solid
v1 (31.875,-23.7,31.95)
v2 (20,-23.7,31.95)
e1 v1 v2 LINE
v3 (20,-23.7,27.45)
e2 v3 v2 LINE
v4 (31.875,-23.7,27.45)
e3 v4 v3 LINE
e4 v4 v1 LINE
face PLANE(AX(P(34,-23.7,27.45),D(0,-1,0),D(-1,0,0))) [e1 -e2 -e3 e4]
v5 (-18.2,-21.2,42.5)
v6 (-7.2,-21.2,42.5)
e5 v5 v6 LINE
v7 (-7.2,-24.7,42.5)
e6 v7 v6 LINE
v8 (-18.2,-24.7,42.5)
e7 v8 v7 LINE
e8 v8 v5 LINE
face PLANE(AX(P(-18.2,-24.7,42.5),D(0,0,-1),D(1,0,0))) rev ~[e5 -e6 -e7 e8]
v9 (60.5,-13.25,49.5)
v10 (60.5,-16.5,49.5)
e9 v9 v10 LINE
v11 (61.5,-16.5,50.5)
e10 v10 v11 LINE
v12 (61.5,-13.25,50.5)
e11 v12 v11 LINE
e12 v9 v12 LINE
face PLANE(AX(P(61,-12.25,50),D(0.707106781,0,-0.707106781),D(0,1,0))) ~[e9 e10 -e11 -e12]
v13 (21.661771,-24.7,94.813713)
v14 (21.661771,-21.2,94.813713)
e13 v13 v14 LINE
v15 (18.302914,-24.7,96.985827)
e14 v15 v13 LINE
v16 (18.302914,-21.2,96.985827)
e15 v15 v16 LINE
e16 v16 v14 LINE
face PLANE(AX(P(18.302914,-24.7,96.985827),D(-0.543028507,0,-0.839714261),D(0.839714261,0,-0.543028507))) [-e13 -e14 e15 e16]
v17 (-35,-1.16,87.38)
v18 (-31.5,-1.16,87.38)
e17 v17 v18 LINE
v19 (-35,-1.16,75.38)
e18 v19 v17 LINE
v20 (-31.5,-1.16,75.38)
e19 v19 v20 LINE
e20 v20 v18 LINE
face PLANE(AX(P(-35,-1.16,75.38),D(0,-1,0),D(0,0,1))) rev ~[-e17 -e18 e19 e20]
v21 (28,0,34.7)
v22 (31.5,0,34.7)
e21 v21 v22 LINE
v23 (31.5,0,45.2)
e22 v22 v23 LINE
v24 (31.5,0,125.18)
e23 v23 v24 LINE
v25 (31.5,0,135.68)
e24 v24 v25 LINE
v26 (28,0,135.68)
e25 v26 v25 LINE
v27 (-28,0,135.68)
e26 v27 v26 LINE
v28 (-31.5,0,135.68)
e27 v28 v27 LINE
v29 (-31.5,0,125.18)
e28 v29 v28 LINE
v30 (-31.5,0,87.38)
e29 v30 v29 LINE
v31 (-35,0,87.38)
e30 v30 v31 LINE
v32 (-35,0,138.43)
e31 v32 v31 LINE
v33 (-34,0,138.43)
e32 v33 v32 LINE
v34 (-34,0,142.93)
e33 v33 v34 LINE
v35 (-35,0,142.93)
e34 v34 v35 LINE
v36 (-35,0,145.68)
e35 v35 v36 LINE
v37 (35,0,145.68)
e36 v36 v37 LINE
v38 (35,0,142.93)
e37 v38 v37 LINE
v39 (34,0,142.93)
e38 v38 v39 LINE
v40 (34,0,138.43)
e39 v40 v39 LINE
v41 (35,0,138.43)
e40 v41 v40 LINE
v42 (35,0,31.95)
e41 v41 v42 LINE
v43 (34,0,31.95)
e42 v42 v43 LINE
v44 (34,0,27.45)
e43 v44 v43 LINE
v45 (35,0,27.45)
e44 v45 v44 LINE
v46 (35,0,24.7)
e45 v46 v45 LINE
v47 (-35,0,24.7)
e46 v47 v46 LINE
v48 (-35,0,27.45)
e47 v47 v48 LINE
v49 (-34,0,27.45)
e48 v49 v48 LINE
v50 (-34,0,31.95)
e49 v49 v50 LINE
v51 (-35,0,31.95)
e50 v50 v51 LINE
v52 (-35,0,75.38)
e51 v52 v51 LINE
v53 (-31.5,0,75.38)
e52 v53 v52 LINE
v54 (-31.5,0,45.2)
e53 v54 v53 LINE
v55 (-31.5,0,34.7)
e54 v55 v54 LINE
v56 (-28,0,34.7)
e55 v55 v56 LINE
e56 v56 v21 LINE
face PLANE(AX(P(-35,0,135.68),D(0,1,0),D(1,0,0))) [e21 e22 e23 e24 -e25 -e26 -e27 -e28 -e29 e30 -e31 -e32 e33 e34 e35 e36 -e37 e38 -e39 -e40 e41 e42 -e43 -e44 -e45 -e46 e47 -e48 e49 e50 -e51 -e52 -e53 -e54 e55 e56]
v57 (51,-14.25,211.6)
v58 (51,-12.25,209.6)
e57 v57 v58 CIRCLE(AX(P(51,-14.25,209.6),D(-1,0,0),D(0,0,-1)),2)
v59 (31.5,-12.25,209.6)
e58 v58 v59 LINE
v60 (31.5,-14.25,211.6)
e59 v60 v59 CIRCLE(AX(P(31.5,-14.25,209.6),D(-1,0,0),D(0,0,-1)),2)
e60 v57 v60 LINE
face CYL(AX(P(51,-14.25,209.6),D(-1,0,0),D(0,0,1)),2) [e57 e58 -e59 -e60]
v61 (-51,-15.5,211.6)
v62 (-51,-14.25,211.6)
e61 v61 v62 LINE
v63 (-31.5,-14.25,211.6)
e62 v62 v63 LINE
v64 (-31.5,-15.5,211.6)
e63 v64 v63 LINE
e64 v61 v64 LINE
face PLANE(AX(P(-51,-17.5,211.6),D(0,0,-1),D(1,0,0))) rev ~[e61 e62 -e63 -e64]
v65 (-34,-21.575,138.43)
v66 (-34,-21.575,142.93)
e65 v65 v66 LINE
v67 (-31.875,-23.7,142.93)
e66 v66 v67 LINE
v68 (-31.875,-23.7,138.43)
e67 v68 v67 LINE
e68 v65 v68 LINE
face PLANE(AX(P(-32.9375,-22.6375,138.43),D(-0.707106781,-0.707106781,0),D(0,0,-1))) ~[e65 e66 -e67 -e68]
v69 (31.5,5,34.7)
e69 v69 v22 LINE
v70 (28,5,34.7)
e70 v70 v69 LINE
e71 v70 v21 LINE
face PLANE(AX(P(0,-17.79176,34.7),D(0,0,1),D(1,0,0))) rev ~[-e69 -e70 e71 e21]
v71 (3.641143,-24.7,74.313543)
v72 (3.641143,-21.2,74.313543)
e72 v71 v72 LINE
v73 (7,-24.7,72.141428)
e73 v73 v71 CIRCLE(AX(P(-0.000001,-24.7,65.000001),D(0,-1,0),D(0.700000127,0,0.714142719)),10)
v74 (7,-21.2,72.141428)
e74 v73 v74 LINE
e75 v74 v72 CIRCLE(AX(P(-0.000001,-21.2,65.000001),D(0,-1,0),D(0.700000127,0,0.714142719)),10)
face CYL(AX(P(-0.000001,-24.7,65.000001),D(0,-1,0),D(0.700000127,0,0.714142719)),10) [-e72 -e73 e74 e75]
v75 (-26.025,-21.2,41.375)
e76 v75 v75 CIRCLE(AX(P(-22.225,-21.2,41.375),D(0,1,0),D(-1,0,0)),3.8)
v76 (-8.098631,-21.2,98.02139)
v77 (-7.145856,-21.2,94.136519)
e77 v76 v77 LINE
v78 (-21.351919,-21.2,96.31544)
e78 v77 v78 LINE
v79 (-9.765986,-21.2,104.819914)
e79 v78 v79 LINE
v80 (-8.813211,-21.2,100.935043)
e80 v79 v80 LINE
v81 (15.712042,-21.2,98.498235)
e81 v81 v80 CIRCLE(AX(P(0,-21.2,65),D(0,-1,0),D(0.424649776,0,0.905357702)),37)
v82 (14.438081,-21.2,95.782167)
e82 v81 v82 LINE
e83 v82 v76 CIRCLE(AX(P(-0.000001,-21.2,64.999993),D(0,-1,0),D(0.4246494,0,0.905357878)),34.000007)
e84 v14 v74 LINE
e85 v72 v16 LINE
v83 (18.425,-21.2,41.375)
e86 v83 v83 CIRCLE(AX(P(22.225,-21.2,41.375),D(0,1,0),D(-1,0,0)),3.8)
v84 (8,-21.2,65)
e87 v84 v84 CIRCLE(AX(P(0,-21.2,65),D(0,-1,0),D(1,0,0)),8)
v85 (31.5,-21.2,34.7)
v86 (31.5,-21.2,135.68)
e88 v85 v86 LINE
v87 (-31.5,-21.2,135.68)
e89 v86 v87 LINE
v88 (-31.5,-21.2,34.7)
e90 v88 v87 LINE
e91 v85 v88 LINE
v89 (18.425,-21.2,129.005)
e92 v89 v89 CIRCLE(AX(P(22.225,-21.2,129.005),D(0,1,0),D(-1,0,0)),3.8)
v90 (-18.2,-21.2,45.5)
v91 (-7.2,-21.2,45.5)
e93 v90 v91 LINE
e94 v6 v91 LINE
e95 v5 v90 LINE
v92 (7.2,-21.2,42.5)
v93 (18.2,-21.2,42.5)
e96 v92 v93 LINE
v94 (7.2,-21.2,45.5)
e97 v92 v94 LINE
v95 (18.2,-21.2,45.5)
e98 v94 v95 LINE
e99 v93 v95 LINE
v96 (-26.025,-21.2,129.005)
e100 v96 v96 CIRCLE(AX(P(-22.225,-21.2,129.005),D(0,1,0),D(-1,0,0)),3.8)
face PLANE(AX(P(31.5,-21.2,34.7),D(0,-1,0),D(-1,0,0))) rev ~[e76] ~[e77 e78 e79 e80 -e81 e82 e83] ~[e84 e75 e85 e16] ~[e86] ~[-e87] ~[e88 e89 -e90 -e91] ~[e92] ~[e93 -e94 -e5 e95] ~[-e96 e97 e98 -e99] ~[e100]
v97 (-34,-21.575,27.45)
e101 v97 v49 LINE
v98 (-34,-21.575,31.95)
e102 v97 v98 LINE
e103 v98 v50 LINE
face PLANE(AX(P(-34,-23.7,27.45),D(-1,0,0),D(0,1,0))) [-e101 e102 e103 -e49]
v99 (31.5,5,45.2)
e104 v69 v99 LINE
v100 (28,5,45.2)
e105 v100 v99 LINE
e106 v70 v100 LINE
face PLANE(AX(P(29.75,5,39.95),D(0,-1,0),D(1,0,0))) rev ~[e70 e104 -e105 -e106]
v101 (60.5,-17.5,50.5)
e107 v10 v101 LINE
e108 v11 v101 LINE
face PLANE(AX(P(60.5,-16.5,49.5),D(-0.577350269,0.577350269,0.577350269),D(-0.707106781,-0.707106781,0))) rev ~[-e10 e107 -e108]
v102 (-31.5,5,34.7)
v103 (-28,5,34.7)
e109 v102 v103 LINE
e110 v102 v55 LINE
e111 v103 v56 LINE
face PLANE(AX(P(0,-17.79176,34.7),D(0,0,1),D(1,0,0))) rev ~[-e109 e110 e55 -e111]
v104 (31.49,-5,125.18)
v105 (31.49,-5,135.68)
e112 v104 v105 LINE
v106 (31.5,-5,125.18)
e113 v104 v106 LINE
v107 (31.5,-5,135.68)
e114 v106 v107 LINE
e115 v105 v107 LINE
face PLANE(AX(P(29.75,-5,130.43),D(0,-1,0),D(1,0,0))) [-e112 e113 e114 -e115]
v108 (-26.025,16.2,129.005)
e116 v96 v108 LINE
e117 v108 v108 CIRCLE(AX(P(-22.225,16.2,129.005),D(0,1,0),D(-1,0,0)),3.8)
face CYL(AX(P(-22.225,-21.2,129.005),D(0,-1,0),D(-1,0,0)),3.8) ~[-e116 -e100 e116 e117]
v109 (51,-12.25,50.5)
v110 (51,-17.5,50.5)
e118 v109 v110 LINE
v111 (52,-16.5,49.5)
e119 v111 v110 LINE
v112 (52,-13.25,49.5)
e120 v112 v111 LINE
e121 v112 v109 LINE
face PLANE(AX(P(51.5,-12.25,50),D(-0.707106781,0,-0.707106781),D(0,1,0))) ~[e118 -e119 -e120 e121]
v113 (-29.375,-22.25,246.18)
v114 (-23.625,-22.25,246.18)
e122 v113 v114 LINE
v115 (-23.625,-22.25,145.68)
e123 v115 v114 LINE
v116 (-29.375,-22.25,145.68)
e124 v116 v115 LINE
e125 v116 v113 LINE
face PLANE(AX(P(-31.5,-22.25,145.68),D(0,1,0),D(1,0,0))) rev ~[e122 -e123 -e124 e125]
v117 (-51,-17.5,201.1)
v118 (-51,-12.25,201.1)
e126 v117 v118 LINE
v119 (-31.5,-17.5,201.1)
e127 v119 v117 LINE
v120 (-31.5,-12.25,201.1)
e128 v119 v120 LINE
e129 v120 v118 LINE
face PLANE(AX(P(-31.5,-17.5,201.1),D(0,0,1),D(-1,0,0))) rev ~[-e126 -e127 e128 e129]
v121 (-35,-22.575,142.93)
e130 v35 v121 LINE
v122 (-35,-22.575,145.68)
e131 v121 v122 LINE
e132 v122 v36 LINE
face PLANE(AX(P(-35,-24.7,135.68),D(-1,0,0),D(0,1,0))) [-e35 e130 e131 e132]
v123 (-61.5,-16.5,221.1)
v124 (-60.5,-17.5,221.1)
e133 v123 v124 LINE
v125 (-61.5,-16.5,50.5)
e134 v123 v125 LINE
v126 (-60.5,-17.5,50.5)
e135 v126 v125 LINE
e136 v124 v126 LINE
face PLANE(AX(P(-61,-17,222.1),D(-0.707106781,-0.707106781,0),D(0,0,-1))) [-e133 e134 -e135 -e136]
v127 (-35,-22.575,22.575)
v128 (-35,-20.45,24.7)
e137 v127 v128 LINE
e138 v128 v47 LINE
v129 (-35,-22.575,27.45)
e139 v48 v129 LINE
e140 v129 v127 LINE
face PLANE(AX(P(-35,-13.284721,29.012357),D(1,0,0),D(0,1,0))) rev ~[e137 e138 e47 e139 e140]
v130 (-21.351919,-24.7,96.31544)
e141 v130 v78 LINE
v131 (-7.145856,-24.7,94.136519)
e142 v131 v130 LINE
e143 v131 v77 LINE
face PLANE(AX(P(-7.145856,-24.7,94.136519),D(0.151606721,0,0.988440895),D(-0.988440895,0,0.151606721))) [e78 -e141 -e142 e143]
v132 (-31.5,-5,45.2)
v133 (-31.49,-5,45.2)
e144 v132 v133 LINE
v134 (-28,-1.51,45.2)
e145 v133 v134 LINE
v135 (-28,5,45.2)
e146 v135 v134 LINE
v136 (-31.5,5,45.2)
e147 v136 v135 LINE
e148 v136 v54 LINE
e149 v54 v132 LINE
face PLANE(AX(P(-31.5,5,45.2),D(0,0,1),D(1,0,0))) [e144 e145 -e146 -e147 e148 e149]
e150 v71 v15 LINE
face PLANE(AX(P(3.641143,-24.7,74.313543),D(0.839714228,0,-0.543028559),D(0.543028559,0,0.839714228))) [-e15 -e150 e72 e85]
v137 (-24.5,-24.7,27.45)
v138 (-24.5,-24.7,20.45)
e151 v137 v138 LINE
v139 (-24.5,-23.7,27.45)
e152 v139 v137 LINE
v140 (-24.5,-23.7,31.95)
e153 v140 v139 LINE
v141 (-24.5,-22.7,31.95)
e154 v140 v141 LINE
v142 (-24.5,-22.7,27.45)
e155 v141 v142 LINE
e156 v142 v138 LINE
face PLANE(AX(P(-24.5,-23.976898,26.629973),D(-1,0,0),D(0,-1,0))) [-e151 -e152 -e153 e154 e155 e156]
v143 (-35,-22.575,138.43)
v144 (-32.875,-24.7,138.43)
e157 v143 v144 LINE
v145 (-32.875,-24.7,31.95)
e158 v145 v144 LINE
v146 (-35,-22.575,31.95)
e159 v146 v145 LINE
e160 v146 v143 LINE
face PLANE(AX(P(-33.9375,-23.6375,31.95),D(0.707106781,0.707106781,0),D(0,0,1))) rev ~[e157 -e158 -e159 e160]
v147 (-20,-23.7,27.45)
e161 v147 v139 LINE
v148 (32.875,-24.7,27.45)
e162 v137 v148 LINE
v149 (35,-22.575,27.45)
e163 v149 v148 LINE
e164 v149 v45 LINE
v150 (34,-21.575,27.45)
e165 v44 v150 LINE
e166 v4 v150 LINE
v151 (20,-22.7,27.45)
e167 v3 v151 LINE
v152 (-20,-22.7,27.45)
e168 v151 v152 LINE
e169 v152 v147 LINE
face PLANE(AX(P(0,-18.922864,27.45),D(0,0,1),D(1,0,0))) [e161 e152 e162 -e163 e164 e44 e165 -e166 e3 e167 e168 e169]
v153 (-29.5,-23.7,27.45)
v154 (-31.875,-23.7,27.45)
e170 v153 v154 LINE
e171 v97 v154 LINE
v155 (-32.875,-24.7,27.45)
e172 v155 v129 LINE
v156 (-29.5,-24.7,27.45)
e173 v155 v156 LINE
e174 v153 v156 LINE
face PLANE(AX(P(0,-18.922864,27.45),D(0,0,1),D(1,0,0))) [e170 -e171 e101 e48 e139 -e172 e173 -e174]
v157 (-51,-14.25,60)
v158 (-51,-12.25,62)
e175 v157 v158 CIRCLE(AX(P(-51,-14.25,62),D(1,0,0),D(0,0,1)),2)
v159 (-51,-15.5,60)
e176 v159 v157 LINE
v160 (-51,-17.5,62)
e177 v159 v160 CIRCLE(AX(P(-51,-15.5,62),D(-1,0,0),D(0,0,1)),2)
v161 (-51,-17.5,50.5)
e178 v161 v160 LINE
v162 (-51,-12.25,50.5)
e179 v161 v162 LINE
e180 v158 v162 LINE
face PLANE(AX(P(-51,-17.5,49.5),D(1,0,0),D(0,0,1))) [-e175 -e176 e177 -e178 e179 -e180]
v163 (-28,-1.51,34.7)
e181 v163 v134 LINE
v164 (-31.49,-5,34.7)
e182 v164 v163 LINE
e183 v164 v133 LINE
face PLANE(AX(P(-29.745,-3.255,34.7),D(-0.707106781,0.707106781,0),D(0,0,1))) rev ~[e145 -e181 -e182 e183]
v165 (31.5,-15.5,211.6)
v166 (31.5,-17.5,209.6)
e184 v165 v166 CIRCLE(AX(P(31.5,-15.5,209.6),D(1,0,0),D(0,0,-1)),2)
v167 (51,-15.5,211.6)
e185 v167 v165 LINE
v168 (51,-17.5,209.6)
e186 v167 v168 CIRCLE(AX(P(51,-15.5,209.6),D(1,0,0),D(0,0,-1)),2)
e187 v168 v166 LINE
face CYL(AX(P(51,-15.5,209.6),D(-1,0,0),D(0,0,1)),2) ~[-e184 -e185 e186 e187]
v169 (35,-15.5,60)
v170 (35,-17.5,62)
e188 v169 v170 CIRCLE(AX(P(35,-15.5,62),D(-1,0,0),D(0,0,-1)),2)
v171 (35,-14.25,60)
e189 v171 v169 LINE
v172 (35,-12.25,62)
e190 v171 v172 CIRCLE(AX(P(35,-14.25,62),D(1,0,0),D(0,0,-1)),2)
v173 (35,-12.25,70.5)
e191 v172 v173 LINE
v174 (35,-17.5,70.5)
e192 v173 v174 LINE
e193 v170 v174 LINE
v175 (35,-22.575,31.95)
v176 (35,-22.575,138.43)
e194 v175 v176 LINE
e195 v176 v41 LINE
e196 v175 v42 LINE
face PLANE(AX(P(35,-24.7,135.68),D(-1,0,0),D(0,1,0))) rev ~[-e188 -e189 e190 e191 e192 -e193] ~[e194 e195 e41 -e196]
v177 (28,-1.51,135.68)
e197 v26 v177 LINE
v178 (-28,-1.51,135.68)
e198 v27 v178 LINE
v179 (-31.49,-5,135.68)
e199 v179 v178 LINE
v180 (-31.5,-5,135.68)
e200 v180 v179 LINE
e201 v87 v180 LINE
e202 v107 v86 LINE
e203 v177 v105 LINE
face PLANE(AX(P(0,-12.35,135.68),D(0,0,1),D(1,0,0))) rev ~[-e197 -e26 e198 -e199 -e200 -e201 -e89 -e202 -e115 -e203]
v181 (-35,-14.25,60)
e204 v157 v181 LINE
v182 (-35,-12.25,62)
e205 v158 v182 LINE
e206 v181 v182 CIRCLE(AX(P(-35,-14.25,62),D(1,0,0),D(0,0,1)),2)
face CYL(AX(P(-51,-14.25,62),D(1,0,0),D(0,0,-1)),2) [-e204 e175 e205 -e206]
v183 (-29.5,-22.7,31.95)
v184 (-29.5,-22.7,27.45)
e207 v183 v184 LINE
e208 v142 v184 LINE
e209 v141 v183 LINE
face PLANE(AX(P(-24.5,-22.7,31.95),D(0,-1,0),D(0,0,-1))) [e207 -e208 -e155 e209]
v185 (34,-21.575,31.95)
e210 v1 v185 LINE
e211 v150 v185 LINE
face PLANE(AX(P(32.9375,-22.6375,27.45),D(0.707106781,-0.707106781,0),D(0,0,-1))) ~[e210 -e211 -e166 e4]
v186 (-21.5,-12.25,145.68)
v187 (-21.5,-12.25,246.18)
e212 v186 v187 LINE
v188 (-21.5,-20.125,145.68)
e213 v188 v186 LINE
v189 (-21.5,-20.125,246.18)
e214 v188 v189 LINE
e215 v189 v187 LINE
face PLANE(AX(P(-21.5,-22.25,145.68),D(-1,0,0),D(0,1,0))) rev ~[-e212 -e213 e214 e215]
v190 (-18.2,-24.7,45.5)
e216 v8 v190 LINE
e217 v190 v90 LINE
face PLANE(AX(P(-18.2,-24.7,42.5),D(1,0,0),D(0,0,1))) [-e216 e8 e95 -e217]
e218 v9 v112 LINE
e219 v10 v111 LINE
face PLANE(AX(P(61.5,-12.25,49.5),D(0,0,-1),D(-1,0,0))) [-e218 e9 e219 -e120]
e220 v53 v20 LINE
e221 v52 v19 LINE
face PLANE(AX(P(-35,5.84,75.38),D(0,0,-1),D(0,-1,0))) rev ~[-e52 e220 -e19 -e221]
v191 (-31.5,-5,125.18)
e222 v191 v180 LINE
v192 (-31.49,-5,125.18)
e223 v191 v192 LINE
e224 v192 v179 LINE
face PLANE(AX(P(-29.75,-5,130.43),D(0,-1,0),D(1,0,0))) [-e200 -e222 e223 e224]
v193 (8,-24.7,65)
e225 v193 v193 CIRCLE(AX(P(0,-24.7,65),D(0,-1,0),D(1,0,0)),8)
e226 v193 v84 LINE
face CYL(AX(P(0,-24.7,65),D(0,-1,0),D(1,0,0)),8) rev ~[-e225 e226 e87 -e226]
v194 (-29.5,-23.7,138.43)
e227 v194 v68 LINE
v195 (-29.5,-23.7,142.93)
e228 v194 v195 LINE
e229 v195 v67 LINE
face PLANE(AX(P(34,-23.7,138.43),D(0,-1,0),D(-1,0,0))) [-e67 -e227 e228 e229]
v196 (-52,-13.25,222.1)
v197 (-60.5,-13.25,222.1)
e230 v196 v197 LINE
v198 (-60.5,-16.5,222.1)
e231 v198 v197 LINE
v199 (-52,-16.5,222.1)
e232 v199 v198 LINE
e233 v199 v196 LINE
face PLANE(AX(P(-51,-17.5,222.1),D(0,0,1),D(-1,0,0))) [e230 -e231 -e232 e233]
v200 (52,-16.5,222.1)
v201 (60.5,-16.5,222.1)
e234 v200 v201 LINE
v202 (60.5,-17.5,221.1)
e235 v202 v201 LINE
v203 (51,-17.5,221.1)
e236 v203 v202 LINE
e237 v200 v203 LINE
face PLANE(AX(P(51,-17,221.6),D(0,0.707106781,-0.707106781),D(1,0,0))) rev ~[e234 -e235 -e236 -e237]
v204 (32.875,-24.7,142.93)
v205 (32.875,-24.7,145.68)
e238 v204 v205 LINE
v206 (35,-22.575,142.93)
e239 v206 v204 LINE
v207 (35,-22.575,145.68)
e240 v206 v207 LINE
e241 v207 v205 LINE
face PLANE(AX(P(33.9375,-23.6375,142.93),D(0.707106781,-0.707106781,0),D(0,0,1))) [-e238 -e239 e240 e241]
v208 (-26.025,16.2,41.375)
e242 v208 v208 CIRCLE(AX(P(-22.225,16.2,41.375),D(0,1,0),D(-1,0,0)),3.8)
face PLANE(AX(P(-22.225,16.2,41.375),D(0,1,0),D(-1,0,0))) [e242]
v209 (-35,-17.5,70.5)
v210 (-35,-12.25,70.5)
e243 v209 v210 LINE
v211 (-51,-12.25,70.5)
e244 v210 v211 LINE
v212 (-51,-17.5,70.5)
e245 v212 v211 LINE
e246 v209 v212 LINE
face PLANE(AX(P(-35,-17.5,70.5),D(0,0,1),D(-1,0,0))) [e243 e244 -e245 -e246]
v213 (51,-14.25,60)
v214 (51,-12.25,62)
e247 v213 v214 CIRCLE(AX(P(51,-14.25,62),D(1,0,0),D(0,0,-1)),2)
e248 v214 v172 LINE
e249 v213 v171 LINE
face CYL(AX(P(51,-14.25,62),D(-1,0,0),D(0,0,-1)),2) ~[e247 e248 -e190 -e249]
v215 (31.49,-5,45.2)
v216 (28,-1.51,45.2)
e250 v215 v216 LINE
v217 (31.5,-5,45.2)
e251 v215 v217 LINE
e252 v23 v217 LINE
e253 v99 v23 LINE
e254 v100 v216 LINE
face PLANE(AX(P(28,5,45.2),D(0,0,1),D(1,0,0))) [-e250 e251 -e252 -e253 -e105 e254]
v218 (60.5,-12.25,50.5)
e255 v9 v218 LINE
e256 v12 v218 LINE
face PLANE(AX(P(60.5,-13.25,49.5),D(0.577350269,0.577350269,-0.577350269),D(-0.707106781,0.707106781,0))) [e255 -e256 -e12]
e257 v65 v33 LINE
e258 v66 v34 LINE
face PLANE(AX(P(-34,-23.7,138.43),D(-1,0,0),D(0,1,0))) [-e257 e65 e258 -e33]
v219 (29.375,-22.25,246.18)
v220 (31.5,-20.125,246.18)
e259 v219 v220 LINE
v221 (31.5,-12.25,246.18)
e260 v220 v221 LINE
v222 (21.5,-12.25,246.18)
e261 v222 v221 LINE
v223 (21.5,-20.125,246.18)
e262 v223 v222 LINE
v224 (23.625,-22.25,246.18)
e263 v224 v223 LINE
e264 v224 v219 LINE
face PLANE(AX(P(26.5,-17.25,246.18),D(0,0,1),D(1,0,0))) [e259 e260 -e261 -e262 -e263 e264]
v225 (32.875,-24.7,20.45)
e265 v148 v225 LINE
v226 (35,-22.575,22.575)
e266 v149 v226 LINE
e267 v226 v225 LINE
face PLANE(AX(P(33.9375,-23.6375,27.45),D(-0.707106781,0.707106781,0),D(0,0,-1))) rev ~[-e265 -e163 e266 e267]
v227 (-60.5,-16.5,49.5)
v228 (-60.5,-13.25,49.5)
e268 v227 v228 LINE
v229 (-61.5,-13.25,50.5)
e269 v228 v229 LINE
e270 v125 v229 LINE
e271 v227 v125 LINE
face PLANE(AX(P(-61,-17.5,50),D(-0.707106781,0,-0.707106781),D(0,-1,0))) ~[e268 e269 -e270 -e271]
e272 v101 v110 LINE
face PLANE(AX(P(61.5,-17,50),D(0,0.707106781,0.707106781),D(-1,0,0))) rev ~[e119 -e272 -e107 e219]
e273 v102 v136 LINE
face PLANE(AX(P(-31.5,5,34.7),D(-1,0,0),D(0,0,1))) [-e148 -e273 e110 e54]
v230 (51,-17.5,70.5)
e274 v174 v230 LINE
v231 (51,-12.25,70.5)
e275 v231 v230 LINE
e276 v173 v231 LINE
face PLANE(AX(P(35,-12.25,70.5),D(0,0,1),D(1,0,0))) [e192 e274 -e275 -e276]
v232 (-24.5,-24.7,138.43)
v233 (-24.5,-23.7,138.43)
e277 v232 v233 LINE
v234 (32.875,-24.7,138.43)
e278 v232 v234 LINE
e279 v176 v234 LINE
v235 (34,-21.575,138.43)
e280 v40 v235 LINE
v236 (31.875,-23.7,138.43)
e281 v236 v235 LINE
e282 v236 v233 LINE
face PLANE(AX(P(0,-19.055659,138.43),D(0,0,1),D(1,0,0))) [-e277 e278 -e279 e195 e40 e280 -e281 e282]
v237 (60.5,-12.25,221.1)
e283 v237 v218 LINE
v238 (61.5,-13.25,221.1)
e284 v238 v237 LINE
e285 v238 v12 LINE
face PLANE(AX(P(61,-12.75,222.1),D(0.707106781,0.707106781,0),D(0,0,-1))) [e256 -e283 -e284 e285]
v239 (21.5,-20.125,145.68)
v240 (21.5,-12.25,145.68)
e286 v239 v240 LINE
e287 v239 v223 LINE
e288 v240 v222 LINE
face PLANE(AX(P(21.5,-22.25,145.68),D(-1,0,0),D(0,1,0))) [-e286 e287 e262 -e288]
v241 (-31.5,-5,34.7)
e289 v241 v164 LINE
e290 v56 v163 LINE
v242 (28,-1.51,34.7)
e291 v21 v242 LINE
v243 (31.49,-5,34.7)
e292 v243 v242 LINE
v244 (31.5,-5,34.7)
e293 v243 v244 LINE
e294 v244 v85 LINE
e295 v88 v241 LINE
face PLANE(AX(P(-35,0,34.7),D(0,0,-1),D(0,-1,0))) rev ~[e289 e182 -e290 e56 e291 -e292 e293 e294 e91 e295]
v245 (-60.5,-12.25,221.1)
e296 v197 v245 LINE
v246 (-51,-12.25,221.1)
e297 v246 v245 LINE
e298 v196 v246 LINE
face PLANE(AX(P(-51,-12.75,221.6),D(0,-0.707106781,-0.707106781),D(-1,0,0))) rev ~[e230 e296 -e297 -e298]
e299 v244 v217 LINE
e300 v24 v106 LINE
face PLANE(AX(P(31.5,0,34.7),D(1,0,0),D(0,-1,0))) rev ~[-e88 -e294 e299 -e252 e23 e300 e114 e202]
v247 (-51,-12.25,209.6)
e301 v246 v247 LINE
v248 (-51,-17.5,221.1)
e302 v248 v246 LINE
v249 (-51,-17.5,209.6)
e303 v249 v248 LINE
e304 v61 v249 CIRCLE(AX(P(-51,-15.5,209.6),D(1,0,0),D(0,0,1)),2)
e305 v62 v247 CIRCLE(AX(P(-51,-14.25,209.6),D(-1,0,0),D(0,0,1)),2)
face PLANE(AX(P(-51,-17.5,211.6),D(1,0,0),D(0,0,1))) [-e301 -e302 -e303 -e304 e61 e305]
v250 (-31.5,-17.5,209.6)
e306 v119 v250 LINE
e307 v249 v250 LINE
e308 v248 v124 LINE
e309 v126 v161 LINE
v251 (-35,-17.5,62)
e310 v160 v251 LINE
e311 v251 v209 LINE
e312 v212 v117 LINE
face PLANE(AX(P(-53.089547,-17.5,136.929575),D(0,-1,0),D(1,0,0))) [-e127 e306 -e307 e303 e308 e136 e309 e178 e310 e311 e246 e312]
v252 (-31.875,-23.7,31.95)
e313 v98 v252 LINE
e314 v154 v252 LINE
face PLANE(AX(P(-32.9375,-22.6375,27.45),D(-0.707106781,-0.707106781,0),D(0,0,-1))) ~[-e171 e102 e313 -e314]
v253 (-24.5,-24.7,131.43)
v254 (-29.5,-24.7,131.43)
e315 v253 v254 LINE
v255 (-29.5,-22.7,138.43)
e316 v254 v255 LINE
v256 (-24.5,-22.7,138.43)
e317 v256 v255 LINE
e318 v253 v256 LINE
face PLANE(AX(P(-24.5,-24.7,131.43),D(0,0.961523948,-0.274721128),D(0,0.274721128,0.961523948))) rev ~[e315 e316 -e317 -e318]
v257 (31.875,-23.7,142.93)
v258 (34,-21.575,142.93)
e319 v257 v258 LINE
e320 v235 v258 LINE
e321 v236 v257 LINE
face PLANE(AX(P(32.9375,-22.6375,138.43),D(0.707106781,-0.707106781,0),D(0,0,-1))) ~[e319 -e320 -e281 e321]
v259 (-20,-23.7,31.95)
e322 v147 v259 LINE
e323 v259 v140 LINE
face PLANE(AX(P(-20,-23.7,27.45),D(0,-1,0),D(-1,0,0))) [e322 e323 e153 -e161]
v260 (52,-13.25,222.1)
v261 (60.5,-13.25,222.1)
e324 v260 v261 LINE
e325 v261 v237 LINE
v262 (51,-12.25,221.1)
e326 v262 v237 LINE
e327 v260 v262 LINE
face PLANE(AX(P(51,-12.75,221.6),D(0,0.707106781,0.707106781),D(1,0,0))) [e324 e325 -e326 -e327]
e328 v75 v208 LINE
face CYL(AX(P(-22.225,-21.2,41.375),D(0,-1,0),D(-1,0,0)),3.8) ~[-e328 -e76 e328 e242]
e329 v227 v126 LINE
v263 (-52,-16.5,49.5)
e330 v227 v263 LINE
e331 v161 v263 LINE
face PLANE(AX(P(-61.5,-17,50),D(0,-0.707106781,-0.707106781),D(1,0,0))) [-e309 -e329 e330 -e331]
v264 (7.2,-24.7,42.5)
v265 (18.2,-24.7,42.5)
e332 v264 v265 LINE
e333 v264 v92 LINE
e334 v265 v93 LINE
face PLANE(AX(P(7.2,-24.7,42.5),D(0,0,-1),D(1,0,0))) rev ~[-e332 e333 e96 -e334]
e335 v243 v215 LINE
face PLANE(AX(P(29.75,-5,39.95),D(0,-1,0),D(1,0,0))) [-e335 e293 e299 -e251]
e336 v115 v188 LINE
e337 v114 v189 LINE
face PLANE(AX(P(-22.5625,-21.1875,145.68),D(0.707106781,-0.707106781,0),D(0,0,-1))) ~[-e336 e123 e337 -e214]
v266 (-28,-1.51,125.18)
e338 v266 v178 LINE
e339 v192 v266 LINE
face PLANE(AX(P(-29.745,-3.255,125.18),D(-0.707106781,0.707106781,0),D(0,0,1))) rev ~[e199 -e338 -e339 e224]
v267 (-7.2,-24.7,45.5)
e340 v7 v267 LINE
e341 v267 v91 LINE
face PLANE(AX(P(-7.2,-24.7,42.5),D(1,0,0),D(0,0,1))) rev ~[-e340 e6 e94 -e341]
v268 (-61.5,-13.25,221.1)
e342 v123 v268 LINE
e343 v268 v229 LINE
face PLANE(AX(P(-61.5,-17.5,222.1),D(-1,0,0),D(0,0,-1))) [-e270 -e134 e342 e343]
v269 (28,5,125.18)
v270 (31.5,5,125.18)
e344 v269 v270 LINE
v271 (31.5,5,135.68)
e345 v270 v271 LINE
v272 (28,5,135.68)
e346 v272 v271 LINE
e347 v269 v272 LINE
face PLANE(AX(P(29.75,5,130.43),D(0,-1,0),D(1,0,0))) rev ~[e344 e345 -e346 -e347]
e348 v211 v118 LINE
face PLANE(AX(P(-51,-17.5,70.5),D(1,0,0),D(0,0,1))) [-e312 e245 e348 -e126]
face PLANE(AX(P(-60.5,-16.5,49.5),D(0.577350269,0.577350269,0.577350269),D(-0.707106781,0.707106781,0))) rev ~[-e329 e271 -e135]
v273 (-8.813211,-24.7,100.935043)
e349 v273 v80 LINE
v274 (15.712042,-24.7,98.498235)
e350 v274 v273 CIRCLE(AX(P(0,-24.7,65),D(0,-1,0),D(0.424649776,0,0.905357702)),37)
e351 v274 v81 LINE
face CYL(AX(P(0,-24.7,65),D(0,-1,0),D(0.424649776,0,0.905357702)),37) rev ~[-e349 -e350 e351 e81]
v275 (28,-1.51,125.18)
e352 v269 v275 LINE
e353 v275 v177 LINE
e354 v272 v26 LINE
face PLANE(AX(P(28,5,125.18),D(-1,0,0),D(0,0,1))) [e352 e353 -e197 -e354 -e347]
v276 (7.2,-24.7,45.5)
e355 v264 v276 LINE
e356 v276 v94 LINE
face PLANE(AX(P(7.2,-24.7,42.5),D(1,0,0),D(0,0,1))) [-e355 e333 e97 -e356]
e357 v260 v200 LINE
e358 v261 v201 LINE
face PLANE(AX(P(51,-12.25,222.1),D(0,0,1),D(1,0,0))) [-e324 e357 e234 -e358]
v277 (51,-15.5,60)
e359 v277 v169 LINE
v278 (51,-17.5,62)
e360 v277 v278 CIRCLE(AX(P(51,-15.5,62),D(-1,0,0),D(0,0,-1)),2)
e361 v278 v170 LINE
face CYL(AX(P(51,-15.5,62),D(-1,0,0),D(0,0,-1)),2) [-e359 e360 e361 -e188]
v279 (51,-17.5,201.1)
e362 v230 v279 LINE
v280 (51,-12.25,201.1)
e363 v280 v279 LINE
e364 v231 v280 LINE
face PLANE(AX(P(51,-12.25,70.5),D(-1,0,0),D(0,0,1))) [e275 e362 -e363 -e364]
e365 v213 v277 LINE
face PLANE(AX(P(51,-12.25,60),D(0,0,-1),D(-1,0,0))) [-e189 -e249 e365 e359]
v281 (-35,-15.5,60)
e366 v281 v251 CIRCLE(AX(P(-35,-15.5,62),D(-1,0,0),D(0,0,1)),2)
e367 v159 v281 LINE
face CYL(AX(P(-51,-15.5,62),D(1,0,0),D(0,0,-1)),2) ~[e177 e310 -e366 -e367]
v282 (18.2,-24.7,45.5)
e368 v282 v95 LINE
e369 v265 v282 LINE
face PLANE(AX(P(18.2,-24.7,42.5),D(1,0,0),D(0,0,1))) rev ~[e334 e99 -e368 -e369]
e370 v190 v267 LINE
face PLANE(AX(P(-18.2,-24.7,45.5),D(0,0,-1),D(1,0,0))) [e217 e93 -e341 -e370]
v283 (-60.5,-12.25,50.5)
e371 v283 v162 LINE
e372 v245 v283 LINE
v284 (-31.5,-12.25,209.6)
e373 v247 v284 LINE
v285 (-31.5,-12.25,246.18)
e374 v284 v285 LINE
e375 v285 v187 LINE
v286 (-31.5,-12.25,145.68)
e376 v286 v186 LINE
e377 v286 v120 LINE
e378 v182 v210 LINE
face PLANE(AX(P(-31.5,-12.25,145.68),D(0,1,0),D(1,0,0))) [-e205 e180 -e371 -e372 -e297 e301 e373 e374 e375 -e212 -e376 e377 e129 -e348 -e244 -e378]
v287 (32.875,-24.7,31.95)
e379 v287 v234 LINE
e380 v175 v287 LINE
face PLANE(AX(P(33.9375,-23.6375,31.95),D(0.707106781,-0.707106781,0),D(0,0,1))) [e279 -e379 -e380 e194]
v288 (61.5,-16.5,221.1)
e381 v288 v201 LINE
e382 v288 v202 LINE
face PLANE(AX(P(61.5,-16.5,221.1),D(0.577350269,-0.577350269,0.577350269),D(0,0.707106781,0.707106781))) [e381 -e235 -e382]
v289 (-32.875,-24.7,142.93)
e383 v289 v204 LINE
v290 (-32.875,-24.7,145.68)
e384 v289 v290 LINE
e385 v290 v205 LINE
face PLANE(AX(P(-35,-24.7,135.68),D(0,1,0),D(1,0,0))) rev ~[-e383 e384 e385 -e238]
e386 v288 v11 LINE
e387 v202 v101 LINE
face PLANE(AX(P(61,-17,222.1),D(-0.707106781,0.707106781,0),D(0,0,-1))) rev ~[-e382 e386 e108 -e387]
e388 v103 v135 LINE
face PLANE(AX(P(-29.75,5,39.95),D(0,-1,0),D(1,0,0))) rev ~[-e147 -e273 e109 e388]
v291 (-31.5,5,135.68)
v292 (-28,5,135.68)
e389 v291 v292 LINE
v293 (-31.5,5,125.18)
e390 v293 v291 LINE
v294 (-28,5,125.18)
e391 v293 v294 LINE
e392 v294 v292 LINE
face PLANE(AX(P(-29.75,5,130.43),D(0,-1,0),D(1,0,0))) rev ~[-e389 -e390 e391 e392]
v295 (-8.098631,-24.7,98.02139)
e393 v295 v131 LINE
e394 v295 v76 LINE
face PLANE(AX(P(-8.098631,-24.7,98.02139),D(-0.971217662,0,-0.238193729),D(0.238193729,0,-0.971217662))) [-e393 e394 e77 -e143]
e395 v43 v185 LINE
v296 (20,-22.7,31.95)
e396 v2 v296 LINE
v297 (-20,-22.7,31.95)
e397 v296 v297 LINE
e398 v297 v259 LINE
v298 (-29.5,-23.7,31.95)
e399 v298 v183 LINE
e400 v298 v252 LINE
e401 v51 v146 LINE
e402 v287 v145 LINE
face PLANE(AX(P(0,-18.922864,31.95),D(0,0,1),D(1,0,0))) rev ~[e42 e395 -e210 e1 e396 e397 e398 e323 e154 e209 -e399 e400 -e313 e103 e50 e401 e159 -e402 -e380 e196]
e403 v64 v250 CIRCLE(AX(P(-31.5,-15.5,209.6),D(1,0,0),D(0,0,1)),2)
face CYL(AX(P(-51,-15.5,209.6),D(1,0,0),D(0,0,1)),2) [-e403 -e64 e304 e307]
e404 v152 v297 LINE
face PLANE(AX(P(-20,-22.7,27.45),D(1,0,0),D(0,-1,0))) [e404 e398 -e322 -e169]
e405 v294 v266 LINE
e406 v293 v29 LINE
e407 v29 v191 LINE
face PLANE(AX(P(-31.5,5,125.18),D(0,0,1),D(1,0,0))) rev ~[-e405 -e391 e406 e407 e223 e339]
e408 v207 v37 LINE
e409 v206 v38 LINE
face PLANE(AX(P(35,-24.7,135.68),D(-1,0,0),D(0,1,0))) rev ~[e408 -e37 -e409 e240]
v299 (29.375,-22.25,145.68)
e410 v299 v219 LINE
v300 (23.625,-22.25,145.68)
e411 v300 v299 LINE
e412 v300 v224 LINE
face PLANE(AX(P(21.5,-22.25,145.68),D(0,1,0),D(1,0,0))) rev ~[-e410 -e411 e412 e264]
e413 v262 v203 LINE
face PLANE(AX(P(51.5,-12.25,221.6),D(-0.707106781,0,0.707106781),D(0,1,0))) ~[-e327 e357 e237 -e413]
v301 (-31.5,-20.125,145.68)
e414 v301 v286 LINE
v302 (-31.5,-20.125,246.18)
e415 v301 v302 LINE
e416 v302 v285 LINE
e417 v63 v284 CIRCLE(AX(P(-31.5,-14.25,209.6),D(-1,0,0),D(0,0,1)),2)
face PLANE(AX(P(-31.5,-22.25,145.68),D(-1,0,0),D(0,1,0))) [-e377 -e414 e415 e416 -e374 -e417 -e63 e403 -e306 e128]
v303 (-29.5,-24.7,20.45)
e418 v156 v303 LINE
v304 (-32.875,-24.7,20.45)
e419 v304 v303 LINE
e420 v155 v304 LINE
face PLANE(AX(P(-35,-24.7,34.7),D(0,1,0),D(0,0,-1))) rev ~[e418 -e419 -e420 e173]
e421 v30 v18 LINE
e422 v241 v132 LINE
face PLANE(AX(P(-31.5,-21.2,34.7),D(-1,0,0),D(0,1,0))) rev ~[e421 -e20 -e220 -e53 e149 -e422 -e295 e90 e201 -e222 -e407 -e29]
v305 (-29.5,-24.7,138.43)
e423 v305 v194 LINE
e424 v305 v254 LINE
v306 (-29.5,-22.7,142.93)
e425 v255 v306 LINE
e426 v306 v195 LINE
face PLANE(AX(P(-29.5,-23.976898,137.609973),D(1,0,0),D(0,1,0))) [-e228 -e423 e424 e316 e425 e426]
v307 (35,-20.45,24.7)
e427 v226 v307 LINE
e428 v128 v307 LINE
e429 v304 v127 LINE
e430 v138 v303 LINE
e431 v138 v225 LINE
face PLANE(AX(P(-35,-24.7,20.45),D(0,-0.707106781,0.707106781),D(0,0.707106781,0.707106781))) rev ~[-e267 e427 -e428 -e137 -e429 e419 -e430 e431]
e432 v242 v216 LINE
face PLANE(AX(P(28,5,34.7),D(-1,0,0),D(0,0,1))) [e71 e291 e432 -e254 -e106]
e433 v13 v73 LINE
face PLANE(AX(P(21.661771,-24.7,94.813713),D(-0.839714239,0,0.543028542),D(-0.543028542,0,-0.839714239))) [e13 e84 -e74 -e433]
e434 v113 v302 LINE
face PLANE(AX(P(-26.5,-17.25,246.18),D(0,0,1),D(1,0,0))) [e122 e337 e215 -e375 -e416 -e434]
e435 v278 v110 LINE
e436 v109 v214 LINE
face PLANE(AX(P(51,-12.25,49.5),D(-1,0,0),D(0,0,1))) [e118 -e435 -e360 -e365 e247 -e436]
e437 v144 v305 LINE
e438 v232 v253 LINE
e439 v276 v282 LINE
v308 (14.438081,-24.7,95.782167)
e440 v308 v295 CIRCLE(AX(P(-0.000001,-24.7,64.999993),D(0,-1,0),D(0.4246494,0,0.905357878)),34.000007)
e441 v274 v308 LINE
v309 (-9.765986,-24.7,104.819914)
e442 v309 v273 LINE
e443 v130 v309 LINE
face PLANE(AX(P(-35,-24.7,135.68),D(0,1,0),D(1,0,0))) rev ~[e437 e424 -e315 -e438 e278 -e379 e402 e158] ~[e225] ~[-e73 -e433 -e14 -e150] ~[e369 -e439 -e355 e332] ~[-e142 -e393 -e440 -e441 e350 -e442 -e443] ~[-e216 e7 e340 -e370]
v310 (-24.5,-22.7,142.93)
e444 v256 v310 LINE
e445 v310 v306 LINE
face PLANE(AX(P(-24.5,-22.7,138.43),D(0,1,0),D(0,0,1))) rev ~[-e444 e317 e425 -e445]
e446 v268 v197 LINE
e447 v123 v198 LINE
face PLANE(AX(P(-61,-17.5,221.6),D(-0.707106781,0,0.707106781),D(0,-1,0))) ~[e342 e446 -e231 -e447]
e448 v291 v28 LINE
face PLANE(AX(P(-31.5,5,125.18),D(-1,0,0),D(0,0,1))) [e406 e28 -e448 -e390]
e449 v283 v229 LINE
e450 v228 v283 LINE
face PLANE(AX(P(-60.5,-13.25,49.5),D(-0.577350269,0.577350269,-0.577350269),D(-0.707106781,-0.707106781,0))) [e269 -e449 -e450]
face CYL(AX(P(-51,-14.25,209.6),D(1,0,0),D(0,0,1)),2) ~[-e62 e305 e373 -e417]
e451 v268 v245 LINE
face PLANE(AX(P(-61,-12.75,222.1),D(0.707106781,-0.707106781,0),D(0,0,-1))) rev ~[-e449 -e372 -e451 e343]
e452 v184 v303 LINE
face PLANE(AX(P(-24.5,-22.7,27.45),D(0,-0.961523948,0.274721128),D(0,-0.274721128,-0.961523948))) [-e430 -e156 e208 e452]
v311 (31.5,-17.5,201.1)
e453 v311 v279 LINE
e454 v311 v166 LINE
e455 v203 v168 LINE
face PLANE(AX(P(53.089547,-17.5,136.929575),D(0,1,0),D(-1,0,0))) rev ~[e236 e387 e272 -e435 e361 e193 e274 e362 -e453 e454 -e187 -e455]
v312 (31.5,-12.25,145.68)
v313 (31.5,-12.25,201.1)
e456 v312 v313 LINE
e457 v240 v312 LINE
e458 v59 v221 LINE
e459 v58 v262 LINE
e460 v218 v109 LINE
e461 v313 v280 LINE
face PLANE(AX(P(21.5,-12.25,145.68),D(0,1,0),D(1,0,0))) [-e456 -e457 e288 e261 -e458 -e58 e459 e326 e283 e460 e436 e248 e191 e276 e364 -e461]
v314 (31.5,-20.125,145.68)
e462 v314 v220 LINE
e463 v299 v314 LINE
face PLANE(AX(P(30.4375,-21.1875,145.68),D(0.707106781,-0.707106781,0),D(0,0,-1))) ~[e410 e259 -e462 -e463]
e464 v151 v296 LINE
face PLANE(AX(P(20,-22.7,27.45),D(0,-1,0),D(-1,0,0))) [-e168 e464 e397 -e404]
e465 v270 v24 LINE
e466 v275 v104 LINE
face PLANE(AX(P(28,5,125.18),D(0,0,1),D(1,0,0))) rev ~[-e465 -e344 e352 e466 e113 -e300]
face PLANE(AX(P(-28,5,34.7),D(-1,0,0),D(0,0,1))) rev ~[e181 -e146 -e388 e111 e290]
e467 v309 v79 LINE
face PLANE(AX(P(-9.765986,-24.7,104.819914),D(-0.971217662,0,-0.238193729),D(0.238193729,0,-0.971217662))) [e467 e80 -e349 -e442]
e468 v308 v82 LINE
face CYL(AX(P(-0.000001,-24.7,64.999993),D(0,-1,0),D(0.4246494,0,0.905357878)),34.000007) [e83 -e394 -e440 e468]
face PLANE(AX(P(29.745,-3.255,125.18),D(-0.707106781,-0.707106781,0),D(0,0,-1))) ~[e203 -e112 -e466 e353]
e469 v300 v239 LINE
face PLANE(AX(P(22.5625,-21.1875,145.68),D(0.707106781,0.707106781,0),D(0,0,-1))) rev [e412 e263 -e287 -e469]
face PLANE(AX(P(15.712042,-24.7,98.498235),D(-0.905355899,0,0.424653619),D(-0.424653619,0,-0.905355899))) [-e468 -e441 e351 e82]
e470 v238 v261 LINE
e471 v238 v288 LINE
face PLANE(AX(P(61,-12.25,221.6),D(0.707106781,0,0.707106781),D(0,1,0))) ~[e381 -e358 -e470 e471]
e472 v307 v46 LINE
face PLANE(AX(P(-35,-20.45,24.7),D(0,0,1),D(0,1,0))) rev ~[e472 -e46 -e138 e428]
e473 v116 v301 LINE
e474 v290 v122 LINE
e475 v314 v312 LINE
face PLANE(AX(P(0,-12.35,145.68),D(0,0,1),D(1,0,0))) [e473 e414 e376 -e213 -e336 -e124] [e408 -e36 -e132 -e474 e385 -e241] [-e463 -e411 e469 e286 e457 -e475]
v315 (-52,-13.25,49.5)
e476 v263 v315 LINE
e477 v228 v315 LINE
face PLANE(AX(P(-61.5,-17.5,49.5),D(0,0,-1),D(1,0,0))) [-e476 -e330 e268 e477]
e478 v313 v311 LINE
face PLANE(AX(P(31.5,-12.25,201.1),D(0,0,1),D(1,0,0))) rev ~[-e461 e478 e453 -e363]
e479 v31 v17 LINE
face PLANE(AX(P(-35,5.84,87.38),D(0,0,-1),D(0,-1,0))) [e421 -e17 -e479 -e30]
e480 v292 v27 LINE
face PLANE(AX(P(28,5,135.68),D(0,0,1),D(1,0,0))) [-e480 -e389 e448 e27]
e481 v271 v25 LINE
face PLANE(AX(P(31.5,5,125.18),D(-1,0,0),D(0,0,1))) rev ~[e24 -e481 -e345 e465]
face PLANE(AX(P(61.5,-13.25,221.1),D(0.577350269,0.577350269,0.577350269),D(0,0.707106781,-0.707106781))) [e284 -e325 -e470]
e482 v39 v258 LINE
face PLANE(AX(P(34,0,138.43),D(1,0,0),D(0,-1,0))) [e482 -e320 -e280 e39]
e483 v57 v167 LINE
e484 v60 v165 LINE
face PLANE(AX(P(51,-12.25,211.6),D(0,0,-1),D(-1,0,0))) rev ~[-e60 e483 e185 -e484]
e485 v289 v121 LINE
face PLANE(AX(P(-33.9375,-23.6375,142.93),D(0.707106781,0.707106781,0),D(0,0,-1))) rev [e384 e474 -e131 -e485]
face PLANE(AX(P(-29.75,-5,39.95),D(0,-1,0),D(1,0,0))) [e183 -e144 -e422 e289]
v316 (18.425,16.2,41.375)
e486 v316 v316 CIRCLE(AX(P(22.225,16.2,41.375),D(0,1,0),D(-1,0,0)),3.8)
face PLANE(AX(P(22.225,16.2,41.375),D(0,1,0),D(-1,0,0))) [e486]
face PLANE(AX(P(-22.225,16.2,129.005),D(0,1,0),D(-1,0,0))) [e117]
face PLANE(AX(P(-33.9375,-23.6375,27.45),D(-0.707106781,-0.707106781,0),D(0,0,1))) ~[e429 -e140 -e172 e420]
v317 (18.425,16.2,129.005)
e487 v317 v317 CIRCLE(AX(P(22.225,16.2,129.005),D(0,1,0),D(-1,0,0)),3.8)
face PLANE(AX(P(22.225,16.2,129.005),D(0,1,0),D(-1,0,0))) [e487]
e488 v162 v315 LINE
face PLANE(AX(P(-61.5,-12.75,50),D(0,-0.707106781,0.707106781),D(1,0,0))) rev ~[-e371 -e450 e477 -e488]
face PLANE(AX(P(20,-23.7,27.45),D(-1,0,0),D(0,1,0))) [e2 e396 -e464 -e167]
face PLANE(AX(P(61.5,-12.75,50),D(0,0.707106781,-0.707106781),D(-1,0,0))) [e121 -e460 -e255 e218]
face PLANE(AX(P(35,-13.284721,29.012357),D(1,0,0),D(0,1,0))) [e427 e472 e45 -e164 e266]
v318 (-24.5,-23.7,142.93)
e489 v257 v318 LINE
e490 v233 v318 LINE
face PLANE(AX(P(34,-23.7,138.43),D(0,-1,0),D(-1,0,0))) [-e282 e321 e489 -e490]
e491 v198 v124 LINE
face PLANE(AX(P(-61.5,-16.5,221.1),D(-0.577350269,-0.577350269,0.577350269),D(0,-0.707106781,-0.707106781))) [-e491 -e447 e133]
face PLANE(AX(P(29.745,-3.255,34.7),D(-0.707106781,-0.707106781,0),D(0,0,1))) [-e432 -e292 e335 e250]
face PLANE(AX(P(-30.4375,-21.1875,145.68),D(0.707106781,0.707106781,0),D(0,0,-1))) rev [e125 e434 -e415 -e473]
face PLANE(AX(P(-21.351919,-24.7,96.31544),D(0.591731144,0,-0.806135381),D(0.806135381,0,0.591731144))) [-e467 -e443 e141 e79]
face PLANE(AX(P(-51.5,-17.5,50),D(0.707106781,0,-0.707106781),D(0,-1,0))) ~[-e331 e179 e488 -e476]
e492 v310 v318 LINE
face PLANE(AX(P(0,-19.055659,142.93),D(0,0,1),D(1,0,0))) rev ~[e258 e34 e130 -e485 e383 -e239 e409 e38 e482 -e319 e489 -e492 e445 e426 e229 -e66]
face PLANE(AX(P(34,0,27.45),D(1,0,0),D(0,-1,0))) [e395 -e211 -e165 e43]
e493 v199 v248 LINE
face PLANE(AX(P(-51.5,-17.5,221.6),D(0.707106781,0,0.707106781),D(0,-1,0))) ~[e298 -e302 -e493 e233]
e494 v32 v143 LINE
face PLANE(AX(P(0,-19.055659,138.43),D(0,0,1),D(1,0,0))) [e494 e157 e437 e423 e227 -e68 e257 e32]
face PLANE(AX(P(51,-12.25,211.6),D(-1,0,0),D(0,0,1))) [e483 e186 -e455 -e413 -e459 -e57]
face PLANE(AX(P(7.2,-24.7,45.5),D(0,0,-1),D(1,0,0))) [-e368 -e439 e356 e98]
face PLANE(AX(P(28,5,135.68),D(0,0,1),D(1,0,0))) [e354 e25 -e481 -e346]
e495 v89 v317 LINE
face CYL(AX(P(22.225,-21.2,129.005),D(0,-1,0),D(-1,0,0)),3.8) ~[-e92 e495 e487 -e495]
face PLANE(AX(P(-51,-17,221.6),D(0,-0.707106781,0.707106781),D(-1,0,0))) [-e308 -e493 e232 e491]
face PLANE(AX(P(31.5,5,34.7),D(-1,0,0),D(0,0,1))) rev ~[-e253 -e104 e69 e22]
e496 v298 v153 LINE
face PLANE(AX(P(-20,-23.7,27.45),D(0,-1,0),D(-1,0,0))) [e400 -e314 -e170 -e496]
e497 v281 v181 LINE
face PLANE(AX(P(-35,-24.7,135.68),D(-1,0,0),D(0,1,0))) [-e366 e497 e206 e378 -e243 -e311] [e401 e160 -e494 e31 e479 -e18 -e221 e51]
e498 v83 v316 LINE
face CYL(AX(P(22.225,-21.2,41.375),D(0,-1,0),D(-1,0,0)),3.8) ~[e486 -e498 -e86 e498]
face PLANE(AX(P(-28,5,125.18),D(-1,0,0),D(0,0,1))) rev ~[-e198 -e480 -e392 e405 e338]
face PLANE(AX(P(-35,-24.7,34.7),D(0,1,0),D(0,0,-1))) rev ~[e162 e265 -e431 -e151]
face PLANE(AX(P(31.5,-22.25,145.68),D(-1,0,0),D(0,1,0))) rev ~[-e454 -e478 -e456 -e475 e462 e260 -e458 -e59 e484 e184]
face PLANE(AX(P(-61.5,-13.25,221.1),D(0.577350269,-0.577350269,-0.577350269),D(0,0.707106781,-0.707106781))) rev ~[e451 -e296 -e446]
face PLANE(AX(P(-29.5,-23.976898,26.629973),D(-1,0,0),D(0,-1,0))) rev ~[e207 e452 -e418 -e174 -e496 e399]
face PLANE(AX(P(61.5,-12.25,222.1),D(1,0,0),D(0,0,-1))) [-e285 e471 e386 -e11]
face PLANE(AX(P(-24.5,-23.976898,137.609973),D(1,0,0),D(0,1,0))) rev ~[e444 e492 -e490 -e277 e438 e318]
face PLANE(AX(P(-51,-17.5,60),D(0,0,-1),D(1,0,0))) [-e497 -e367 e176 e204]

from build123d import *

# Parameters (mm, degrees)
PAD011_DEPTH    = 4.5
PAD025_DEPTH    = 100.98
SKETCH030_R     = 3.8
PAD026_DEPTH    = 37.4
SKETCH031_W     = 3.5
SKETCH031_H     = 10.5
PAD027_DEPTH    = 10
CHAMFER009_SIZE = 3.49
SKETCH043_R     = 8
POCKET003_DEPTH = 5
PAD029_DEPTH    = 4.5
SKETCH032_W     = 70
SKETCH032_H     = 24.7
PAD028_DEPTH    = 10
SKETCH041_W     = 10
SKETCH041_H     = 10
PAD037_DEPTH    = 100.5
PAD039_DEPTH    = 5.25
FILLET001_R     = 2
CHAMFER015_SIZE = 1
PAD038_DEPTH    = 5.25
FILLET_R        = 2
CHAMFER014_SIZE = 1
PAD010_DEPTH    = 70
CHAMFER011_SIZE = 2.125
CHAMFER013_SIZE = 2.125
SKETCH045_R     = 5.5
SKETCH045_W     = 7
SKETCH045_H     = 12
POCKET005_DEPTH = 5
SKETCH046_W     = 11
SKETCH046_H     = 3
POCKET006_DEPTH = 5
POCKET007_DEPTH = 5


with BuildPart() as band:
    # Sketch013 → Pad011 (new body)
    with BuildSketch(Plane.XY.offset(27.45)):
        Polygon((-35, 0), (-35, -24.7), (35, -24.7), (35, 0), (34, 0), (34, -23.7), (20, -23.7), (20, -22.7), (-20, -22.7), (-20, -23.7), (-34, -23.7), (-34, 0), align=None)
    extrude(amount=PAD011_DEPTH)


with BuildPart() as boardcover:
    # Sketch029 → Pad025 (new body)
    with BuildSketch(Plane.XY.offset(34.7)):
        Polygon((-35, 0), (-35, -24.7), (35, -24.7), (35, 0), (31.5, 0), (31.5, -21.2), (-31.5, -21.2), (-31.5, 0), align=None)
    extrude(amount=PAD025_DEPTH)

    # Sketch030 (on Face6 of Pad025) → Pad026 (join)
    with BuildSketch(Plane(origin=(0, -21.2, 0), x_dir=(-1, 0, 0), z_dir=(0, 1, 0))):
        with Locations((-22.225, 129.005)):
            Circle(SKETCH030_R)
        with Locations((22.225, 129.005)):
            Circle(SKETCH030_R)
        with Locations((-22.225, 41.375)):
            Circle(SKETCH030_R)
        with Locations((22.225, 41.375)):
            Circle(SKETCH030_R)
    extrude(amount=PAD026_DEPTH)

    # Sketch031 → Pad027 (join)
    with BuildSketch(Plane.XZ.offset(-5)):
        with Locations((29.75, 130.43)):
            Rectangle(SKETCH031_W, SKETCH031_H)
        with Locations((-29.75, 130.43)):
            Rectangle(SKETCH031_W, SKETCH031_H)
        with Locations((29.75, 39.95)):
            Rectangle(SKETCH031_W, SKETCH031_H)
        with Locations((-29.75, 39.95)):
            Rectangle(SKETCH031_W, SKETCH031_H)
    extrude(amount=PAD027_DEPTH)

    # Chamfer009
    chamfer009_edges = [boardcover.edges().sort_by_distance(p)[0] for p in [
        (28, -5, 130.43),
        (28, -5, 39.95),
        (-28, -5, 130.43),
        (-28, -5, 39.95),
    ]]
    chamfer(chamfer009_edges, length=CHAMFER009_SIZE)

    # Sketch043 (on Face3 of Boolean005) → Pocket003 (cut)
    with BuildSketch(Plane(origin=(0, -24.7, 10), x_dir=(1, 0, 0), z_dir=(0, -1, 0))):
        with Locations((0, 55)):
            Circle(SKETCH043_R)
        with BuildLine():
            Line((3.641143, 64.313543), (18.302914, 86.985827))
            Line((18.302914, 86.985827), (21.661771, 84.813713))
            Line((21.661771, 84.813713), (7, 62.141428))
            ThreePointArc((7, 62.141428), (5.430286, 63.397142), (3.641143, 64.313543))
        make_face()
        with BuildLine():
            ThreePointArc((15.712042, 88.498235), (3.658274, 91.818705), (-8.813211, 90.935043))
            Line((-9.765986, 94.819914), (-8.813211, 90.935043))
            Line((-21.351919, 86.31544), (-9.765986, 94.819914))
            Line((-7.145856, 84.136519), (-21.351919, 86.31544))
            Line((-8.098631, 88.02139), (-7.145856, 84.136519))
            ThreePointArc((14.438081, 85.782167), (3.361649, 88.833405), (-8.098631, 88.02139))
            Line((15.712042, 88.498235), (14.438081, 85.782167))
        make_face()
    extrude(amount=-POCKET003_DEPTH, mode=Mode.SUBTRACT)


with BuildPart() as body015:
    # Sketch033 → Pad029 (new body)
    with BuildSketch(Plane.XY.offset(138.43)):
        Polygon((-35, 0), (-35, -24.7), (35, -24.7), (35, 0), (34, 0), (34, -23.7), (-34, -23.7), (-34, 0), align=None)
    extrude(amount=PAD029_DEPTH)


with BuildPart() as zip2:
    # Sketch032 → Pad028 (new body)
    with BuildSketch(Plane.XY.offset(135.68)):
        with Locations((0, -12.35)):
            Rectangle(SKETCH032_W, SKETCH032_H)
    extrude(amount=PAD028_DEPTH)

    # Boolean006: cut Body015
    add(body015.part, mode=Mode.SUBTRACT)

    # Sketch041 (on Face8 of Boolean006) → Pad037 (join)
    with BuildSketch(Plane.XY.offset(145.68)):
        with Locations((-26.5, -17.25)):
            Rectangle(SKETCH041_W, SKETCH041_H)
        with Locations((26.5, -17.25)):
            Rectangle(SKETCH041_W, SKETCH041_H)
    extrude(amount=PAD037_DEPTH)


with BuildPart() as body021:
    # Sketch050 → Pad039 (new body)
    with BuildSketch(Plane(origin=(0, -17.5, 0), x_dir=(-1, 0, 0), z_dir=(0, 1, 0))):
        Polygon((35, 70.5), (51, 70.5), (51, 201.1), (35, 201.1), (31.5, 201.1), (31.5, 211.6), (35, 211.6), (51, 211.6), (51, 222.1), (61.5, 222.1), (61.5, 49.5), (51, 49.5), (51, 60), (35, 60), align=None)
    extrude(amount=PAD039_DEPTH)

    # Fillet001
    fillet001_edges = [body021.edges().sort_by_distance(p)[0] for p in [
        (-43, -17.5, 211.6),
        (-33.25, -17.5, 211.6),
        (-43, -12.25, 211.6),
        (-33.25, -12.25, 211.6),
        (-43, -12.25, 60),
        (-43, -17.5, 60),
    ]]
    fillet(fillet001_edges, radius=FILLET001_R)

    # Chamfer015
    chamfer015_edges = [body021.edges().sort_by_distance(p)[0] for p in [
        (-51, -14.875, 222.1),
        (-56.25, -17.5, 222.1),
        (-56.25, -12.25, 222.1),
        (-61.5, -14.875, 222.1),
        (-61.5, -17.5, 135.8),
        (-61.5, -12.25, 135.8),
        (-51, -14.875, 49.5),
        (-56.25, -17.5, 49.5),
        (-56.25, -12.25, 49.5),
        (-61.5, -14.875, 49.5),
    ]]
    chamfer(chamfer015_edges, length=CHAMFER015_SIZE)


with BuildPart() as body020:
    # Sketch049 → Pad038 (new body)
    with BuildSketch(Plane.XZ.offset(12.25)):
        Polygon((35, 70.5), (51, 70.5), (51, 201.1), (35, 201.1), (31.5, 201.1), (31.5, 211.6), (35, 211.6), (51, 211.6), (51, 222.1), (61.5, 222.1), (61.5, 49.5), (51, 49.5), (51, 60), (35, 60), align=None)
    extrude(amount=PAD038_DEPTH)

    # Fillet
    fillet_edges = [body020.edges().sort_by_distance(p)[0] for p in [
        (43, -17.5, 60),
        (43, -12.25, 60),
        (33.25, -17.5, 211.6),
        (33.25, -12.25, 211.6),
        (43, -12.25, 211.6),
        (43, -17.5, 211.6),
    ]]
    fillet(fillet_edges, radius=FILLET_R)

    # Chamfer014
    chamfer014_edges = [body020.edges().sort_by_distance(p)[0] for p in [
        (51, -14.875, 222.1),
        (56.25, -12.25, 222.1),
        (56.25, -17.5, 222.1),
        (61.5, -17.5, 135.8),
        (61.5, -14.875, 222.1),
        (61.5, -12.25, 135.8),
        (61.5, -14.875, 49.5),
        (56.25, -12.25, 49.5),
        (56.25, -17.5, 49.5),
        (51, -14.875, 49.5),
    ]]
    chamfer(chamfer014_edges, length=CHAMFER014_SIZE)


with BuildPart() as plate:
    # Sketch012 → Pad010 (new body)
    with BuildSketch(Plane.YZ.offset(-35)):
        Polygon((-24.7, 20.45), (-20.45, 24.7), (0, 24.7), (0, 34.7), (-24.7, 34.7), align=None)
    extrude(amount=PAD010_DEPTH)

    # Boolean002: cut Band
    add(band.part, mode=Mode.SUBTRACT)

    # Boolean009: union BoardCover, Zip2
    add(boardcover.part)
    add(zip2.part)

    # Chamfer011
    chamfer011_edges = [plate.edges().sort_by_distance(p)[0] for p in [
        (-35, -24.7, 23.95),
        (-34, -23.7, 29.7),
        (-35, -24.7, 33.325),
        (-35, -24.7, 85.19),
        (-34, -23.7, 140.68),
        (-35, -24.7, 137.055),
        (-35, -24.7, 144.305),
        (35, -24.7, 144.305),
        (34, -23.7, 140.68),
        (35, -24.7, 137.055),
        (35, -24.7, 85.19),
        (35, -24.7, 33.325),
        (34, -23.7, 29.7),
        (35, -24.7, 23.95),
    ]]
    chamfer(chamfer011_edges, length=CHAMFER011_SIZE)

    # Chamfer013
    chamfer013_edges = [plate.edges().sort_by_distance(p)[0] for p in [
        (-31.5, -22.25, 195.93),
        (-21.5, -22.25, 195.93),
        (21.5, -22.25, 195.93),
        (31.5, -22.25, 195.93),
    ]]
    chamfer(chamfer013_edges, length=CHAMFER013_SIZE)

    # Sketch045 (on Face54 of Chamfer012) → Pocket005 (cut)
    with BuildSketch(Plane(origin=(-35, 0, 0), x_dir=(0, -1, 0), z_dir=(-1, 0, 0))):
        with Locations((-9.7, 101.7)):
            Circle(SKETCH045_R)
        with Locations((-2.34, 81.38)):
            Rectangle(SKETCH045_W, SKETCH045_H)
    extrude(amount=-POCKET005_DEPTH, mode=Mode.SUBTRACT)

    # Sketch046 (on Face97 of Pocket005) → Pocket006 (cut)
    with BuildSketch(Plane.XZ.offset(24.7)):
        with Locations((-12.7, 44)):
            Rectangle(SKETCH046_W, SKETCH046_H)
        with Locations((12.7, 44)):
            Rectangle(SKETCH046_W, SKETCH046_H)
    extrude(amount=-POCKET006_DEPTH, mode=Mode.SUBTRACT)

    # Sketch048 → Pocket007 (cut)
    with BuildSketch(Plane.YZ.offset(-24.5)):
        Polygon((-24.7, 138.43), (-24.7, 131.43), (-22.7, 138.43), (-22.7, 142.93), (-24.7, 142.93), align=None)
        Polygon((-22.7, 27.45), (-24.7, 20.45), (-24.7, 27.45), (-24.7, 31.95), (-22.7, 31.95), align=None)
    extrude(amount=-POCKET007_DEPTH, mode=Mode.SUBTRACT)

    # Boolean011: union Body021, Body020
    add(body021.part)
    add(body020.part)


solid = plate.part
